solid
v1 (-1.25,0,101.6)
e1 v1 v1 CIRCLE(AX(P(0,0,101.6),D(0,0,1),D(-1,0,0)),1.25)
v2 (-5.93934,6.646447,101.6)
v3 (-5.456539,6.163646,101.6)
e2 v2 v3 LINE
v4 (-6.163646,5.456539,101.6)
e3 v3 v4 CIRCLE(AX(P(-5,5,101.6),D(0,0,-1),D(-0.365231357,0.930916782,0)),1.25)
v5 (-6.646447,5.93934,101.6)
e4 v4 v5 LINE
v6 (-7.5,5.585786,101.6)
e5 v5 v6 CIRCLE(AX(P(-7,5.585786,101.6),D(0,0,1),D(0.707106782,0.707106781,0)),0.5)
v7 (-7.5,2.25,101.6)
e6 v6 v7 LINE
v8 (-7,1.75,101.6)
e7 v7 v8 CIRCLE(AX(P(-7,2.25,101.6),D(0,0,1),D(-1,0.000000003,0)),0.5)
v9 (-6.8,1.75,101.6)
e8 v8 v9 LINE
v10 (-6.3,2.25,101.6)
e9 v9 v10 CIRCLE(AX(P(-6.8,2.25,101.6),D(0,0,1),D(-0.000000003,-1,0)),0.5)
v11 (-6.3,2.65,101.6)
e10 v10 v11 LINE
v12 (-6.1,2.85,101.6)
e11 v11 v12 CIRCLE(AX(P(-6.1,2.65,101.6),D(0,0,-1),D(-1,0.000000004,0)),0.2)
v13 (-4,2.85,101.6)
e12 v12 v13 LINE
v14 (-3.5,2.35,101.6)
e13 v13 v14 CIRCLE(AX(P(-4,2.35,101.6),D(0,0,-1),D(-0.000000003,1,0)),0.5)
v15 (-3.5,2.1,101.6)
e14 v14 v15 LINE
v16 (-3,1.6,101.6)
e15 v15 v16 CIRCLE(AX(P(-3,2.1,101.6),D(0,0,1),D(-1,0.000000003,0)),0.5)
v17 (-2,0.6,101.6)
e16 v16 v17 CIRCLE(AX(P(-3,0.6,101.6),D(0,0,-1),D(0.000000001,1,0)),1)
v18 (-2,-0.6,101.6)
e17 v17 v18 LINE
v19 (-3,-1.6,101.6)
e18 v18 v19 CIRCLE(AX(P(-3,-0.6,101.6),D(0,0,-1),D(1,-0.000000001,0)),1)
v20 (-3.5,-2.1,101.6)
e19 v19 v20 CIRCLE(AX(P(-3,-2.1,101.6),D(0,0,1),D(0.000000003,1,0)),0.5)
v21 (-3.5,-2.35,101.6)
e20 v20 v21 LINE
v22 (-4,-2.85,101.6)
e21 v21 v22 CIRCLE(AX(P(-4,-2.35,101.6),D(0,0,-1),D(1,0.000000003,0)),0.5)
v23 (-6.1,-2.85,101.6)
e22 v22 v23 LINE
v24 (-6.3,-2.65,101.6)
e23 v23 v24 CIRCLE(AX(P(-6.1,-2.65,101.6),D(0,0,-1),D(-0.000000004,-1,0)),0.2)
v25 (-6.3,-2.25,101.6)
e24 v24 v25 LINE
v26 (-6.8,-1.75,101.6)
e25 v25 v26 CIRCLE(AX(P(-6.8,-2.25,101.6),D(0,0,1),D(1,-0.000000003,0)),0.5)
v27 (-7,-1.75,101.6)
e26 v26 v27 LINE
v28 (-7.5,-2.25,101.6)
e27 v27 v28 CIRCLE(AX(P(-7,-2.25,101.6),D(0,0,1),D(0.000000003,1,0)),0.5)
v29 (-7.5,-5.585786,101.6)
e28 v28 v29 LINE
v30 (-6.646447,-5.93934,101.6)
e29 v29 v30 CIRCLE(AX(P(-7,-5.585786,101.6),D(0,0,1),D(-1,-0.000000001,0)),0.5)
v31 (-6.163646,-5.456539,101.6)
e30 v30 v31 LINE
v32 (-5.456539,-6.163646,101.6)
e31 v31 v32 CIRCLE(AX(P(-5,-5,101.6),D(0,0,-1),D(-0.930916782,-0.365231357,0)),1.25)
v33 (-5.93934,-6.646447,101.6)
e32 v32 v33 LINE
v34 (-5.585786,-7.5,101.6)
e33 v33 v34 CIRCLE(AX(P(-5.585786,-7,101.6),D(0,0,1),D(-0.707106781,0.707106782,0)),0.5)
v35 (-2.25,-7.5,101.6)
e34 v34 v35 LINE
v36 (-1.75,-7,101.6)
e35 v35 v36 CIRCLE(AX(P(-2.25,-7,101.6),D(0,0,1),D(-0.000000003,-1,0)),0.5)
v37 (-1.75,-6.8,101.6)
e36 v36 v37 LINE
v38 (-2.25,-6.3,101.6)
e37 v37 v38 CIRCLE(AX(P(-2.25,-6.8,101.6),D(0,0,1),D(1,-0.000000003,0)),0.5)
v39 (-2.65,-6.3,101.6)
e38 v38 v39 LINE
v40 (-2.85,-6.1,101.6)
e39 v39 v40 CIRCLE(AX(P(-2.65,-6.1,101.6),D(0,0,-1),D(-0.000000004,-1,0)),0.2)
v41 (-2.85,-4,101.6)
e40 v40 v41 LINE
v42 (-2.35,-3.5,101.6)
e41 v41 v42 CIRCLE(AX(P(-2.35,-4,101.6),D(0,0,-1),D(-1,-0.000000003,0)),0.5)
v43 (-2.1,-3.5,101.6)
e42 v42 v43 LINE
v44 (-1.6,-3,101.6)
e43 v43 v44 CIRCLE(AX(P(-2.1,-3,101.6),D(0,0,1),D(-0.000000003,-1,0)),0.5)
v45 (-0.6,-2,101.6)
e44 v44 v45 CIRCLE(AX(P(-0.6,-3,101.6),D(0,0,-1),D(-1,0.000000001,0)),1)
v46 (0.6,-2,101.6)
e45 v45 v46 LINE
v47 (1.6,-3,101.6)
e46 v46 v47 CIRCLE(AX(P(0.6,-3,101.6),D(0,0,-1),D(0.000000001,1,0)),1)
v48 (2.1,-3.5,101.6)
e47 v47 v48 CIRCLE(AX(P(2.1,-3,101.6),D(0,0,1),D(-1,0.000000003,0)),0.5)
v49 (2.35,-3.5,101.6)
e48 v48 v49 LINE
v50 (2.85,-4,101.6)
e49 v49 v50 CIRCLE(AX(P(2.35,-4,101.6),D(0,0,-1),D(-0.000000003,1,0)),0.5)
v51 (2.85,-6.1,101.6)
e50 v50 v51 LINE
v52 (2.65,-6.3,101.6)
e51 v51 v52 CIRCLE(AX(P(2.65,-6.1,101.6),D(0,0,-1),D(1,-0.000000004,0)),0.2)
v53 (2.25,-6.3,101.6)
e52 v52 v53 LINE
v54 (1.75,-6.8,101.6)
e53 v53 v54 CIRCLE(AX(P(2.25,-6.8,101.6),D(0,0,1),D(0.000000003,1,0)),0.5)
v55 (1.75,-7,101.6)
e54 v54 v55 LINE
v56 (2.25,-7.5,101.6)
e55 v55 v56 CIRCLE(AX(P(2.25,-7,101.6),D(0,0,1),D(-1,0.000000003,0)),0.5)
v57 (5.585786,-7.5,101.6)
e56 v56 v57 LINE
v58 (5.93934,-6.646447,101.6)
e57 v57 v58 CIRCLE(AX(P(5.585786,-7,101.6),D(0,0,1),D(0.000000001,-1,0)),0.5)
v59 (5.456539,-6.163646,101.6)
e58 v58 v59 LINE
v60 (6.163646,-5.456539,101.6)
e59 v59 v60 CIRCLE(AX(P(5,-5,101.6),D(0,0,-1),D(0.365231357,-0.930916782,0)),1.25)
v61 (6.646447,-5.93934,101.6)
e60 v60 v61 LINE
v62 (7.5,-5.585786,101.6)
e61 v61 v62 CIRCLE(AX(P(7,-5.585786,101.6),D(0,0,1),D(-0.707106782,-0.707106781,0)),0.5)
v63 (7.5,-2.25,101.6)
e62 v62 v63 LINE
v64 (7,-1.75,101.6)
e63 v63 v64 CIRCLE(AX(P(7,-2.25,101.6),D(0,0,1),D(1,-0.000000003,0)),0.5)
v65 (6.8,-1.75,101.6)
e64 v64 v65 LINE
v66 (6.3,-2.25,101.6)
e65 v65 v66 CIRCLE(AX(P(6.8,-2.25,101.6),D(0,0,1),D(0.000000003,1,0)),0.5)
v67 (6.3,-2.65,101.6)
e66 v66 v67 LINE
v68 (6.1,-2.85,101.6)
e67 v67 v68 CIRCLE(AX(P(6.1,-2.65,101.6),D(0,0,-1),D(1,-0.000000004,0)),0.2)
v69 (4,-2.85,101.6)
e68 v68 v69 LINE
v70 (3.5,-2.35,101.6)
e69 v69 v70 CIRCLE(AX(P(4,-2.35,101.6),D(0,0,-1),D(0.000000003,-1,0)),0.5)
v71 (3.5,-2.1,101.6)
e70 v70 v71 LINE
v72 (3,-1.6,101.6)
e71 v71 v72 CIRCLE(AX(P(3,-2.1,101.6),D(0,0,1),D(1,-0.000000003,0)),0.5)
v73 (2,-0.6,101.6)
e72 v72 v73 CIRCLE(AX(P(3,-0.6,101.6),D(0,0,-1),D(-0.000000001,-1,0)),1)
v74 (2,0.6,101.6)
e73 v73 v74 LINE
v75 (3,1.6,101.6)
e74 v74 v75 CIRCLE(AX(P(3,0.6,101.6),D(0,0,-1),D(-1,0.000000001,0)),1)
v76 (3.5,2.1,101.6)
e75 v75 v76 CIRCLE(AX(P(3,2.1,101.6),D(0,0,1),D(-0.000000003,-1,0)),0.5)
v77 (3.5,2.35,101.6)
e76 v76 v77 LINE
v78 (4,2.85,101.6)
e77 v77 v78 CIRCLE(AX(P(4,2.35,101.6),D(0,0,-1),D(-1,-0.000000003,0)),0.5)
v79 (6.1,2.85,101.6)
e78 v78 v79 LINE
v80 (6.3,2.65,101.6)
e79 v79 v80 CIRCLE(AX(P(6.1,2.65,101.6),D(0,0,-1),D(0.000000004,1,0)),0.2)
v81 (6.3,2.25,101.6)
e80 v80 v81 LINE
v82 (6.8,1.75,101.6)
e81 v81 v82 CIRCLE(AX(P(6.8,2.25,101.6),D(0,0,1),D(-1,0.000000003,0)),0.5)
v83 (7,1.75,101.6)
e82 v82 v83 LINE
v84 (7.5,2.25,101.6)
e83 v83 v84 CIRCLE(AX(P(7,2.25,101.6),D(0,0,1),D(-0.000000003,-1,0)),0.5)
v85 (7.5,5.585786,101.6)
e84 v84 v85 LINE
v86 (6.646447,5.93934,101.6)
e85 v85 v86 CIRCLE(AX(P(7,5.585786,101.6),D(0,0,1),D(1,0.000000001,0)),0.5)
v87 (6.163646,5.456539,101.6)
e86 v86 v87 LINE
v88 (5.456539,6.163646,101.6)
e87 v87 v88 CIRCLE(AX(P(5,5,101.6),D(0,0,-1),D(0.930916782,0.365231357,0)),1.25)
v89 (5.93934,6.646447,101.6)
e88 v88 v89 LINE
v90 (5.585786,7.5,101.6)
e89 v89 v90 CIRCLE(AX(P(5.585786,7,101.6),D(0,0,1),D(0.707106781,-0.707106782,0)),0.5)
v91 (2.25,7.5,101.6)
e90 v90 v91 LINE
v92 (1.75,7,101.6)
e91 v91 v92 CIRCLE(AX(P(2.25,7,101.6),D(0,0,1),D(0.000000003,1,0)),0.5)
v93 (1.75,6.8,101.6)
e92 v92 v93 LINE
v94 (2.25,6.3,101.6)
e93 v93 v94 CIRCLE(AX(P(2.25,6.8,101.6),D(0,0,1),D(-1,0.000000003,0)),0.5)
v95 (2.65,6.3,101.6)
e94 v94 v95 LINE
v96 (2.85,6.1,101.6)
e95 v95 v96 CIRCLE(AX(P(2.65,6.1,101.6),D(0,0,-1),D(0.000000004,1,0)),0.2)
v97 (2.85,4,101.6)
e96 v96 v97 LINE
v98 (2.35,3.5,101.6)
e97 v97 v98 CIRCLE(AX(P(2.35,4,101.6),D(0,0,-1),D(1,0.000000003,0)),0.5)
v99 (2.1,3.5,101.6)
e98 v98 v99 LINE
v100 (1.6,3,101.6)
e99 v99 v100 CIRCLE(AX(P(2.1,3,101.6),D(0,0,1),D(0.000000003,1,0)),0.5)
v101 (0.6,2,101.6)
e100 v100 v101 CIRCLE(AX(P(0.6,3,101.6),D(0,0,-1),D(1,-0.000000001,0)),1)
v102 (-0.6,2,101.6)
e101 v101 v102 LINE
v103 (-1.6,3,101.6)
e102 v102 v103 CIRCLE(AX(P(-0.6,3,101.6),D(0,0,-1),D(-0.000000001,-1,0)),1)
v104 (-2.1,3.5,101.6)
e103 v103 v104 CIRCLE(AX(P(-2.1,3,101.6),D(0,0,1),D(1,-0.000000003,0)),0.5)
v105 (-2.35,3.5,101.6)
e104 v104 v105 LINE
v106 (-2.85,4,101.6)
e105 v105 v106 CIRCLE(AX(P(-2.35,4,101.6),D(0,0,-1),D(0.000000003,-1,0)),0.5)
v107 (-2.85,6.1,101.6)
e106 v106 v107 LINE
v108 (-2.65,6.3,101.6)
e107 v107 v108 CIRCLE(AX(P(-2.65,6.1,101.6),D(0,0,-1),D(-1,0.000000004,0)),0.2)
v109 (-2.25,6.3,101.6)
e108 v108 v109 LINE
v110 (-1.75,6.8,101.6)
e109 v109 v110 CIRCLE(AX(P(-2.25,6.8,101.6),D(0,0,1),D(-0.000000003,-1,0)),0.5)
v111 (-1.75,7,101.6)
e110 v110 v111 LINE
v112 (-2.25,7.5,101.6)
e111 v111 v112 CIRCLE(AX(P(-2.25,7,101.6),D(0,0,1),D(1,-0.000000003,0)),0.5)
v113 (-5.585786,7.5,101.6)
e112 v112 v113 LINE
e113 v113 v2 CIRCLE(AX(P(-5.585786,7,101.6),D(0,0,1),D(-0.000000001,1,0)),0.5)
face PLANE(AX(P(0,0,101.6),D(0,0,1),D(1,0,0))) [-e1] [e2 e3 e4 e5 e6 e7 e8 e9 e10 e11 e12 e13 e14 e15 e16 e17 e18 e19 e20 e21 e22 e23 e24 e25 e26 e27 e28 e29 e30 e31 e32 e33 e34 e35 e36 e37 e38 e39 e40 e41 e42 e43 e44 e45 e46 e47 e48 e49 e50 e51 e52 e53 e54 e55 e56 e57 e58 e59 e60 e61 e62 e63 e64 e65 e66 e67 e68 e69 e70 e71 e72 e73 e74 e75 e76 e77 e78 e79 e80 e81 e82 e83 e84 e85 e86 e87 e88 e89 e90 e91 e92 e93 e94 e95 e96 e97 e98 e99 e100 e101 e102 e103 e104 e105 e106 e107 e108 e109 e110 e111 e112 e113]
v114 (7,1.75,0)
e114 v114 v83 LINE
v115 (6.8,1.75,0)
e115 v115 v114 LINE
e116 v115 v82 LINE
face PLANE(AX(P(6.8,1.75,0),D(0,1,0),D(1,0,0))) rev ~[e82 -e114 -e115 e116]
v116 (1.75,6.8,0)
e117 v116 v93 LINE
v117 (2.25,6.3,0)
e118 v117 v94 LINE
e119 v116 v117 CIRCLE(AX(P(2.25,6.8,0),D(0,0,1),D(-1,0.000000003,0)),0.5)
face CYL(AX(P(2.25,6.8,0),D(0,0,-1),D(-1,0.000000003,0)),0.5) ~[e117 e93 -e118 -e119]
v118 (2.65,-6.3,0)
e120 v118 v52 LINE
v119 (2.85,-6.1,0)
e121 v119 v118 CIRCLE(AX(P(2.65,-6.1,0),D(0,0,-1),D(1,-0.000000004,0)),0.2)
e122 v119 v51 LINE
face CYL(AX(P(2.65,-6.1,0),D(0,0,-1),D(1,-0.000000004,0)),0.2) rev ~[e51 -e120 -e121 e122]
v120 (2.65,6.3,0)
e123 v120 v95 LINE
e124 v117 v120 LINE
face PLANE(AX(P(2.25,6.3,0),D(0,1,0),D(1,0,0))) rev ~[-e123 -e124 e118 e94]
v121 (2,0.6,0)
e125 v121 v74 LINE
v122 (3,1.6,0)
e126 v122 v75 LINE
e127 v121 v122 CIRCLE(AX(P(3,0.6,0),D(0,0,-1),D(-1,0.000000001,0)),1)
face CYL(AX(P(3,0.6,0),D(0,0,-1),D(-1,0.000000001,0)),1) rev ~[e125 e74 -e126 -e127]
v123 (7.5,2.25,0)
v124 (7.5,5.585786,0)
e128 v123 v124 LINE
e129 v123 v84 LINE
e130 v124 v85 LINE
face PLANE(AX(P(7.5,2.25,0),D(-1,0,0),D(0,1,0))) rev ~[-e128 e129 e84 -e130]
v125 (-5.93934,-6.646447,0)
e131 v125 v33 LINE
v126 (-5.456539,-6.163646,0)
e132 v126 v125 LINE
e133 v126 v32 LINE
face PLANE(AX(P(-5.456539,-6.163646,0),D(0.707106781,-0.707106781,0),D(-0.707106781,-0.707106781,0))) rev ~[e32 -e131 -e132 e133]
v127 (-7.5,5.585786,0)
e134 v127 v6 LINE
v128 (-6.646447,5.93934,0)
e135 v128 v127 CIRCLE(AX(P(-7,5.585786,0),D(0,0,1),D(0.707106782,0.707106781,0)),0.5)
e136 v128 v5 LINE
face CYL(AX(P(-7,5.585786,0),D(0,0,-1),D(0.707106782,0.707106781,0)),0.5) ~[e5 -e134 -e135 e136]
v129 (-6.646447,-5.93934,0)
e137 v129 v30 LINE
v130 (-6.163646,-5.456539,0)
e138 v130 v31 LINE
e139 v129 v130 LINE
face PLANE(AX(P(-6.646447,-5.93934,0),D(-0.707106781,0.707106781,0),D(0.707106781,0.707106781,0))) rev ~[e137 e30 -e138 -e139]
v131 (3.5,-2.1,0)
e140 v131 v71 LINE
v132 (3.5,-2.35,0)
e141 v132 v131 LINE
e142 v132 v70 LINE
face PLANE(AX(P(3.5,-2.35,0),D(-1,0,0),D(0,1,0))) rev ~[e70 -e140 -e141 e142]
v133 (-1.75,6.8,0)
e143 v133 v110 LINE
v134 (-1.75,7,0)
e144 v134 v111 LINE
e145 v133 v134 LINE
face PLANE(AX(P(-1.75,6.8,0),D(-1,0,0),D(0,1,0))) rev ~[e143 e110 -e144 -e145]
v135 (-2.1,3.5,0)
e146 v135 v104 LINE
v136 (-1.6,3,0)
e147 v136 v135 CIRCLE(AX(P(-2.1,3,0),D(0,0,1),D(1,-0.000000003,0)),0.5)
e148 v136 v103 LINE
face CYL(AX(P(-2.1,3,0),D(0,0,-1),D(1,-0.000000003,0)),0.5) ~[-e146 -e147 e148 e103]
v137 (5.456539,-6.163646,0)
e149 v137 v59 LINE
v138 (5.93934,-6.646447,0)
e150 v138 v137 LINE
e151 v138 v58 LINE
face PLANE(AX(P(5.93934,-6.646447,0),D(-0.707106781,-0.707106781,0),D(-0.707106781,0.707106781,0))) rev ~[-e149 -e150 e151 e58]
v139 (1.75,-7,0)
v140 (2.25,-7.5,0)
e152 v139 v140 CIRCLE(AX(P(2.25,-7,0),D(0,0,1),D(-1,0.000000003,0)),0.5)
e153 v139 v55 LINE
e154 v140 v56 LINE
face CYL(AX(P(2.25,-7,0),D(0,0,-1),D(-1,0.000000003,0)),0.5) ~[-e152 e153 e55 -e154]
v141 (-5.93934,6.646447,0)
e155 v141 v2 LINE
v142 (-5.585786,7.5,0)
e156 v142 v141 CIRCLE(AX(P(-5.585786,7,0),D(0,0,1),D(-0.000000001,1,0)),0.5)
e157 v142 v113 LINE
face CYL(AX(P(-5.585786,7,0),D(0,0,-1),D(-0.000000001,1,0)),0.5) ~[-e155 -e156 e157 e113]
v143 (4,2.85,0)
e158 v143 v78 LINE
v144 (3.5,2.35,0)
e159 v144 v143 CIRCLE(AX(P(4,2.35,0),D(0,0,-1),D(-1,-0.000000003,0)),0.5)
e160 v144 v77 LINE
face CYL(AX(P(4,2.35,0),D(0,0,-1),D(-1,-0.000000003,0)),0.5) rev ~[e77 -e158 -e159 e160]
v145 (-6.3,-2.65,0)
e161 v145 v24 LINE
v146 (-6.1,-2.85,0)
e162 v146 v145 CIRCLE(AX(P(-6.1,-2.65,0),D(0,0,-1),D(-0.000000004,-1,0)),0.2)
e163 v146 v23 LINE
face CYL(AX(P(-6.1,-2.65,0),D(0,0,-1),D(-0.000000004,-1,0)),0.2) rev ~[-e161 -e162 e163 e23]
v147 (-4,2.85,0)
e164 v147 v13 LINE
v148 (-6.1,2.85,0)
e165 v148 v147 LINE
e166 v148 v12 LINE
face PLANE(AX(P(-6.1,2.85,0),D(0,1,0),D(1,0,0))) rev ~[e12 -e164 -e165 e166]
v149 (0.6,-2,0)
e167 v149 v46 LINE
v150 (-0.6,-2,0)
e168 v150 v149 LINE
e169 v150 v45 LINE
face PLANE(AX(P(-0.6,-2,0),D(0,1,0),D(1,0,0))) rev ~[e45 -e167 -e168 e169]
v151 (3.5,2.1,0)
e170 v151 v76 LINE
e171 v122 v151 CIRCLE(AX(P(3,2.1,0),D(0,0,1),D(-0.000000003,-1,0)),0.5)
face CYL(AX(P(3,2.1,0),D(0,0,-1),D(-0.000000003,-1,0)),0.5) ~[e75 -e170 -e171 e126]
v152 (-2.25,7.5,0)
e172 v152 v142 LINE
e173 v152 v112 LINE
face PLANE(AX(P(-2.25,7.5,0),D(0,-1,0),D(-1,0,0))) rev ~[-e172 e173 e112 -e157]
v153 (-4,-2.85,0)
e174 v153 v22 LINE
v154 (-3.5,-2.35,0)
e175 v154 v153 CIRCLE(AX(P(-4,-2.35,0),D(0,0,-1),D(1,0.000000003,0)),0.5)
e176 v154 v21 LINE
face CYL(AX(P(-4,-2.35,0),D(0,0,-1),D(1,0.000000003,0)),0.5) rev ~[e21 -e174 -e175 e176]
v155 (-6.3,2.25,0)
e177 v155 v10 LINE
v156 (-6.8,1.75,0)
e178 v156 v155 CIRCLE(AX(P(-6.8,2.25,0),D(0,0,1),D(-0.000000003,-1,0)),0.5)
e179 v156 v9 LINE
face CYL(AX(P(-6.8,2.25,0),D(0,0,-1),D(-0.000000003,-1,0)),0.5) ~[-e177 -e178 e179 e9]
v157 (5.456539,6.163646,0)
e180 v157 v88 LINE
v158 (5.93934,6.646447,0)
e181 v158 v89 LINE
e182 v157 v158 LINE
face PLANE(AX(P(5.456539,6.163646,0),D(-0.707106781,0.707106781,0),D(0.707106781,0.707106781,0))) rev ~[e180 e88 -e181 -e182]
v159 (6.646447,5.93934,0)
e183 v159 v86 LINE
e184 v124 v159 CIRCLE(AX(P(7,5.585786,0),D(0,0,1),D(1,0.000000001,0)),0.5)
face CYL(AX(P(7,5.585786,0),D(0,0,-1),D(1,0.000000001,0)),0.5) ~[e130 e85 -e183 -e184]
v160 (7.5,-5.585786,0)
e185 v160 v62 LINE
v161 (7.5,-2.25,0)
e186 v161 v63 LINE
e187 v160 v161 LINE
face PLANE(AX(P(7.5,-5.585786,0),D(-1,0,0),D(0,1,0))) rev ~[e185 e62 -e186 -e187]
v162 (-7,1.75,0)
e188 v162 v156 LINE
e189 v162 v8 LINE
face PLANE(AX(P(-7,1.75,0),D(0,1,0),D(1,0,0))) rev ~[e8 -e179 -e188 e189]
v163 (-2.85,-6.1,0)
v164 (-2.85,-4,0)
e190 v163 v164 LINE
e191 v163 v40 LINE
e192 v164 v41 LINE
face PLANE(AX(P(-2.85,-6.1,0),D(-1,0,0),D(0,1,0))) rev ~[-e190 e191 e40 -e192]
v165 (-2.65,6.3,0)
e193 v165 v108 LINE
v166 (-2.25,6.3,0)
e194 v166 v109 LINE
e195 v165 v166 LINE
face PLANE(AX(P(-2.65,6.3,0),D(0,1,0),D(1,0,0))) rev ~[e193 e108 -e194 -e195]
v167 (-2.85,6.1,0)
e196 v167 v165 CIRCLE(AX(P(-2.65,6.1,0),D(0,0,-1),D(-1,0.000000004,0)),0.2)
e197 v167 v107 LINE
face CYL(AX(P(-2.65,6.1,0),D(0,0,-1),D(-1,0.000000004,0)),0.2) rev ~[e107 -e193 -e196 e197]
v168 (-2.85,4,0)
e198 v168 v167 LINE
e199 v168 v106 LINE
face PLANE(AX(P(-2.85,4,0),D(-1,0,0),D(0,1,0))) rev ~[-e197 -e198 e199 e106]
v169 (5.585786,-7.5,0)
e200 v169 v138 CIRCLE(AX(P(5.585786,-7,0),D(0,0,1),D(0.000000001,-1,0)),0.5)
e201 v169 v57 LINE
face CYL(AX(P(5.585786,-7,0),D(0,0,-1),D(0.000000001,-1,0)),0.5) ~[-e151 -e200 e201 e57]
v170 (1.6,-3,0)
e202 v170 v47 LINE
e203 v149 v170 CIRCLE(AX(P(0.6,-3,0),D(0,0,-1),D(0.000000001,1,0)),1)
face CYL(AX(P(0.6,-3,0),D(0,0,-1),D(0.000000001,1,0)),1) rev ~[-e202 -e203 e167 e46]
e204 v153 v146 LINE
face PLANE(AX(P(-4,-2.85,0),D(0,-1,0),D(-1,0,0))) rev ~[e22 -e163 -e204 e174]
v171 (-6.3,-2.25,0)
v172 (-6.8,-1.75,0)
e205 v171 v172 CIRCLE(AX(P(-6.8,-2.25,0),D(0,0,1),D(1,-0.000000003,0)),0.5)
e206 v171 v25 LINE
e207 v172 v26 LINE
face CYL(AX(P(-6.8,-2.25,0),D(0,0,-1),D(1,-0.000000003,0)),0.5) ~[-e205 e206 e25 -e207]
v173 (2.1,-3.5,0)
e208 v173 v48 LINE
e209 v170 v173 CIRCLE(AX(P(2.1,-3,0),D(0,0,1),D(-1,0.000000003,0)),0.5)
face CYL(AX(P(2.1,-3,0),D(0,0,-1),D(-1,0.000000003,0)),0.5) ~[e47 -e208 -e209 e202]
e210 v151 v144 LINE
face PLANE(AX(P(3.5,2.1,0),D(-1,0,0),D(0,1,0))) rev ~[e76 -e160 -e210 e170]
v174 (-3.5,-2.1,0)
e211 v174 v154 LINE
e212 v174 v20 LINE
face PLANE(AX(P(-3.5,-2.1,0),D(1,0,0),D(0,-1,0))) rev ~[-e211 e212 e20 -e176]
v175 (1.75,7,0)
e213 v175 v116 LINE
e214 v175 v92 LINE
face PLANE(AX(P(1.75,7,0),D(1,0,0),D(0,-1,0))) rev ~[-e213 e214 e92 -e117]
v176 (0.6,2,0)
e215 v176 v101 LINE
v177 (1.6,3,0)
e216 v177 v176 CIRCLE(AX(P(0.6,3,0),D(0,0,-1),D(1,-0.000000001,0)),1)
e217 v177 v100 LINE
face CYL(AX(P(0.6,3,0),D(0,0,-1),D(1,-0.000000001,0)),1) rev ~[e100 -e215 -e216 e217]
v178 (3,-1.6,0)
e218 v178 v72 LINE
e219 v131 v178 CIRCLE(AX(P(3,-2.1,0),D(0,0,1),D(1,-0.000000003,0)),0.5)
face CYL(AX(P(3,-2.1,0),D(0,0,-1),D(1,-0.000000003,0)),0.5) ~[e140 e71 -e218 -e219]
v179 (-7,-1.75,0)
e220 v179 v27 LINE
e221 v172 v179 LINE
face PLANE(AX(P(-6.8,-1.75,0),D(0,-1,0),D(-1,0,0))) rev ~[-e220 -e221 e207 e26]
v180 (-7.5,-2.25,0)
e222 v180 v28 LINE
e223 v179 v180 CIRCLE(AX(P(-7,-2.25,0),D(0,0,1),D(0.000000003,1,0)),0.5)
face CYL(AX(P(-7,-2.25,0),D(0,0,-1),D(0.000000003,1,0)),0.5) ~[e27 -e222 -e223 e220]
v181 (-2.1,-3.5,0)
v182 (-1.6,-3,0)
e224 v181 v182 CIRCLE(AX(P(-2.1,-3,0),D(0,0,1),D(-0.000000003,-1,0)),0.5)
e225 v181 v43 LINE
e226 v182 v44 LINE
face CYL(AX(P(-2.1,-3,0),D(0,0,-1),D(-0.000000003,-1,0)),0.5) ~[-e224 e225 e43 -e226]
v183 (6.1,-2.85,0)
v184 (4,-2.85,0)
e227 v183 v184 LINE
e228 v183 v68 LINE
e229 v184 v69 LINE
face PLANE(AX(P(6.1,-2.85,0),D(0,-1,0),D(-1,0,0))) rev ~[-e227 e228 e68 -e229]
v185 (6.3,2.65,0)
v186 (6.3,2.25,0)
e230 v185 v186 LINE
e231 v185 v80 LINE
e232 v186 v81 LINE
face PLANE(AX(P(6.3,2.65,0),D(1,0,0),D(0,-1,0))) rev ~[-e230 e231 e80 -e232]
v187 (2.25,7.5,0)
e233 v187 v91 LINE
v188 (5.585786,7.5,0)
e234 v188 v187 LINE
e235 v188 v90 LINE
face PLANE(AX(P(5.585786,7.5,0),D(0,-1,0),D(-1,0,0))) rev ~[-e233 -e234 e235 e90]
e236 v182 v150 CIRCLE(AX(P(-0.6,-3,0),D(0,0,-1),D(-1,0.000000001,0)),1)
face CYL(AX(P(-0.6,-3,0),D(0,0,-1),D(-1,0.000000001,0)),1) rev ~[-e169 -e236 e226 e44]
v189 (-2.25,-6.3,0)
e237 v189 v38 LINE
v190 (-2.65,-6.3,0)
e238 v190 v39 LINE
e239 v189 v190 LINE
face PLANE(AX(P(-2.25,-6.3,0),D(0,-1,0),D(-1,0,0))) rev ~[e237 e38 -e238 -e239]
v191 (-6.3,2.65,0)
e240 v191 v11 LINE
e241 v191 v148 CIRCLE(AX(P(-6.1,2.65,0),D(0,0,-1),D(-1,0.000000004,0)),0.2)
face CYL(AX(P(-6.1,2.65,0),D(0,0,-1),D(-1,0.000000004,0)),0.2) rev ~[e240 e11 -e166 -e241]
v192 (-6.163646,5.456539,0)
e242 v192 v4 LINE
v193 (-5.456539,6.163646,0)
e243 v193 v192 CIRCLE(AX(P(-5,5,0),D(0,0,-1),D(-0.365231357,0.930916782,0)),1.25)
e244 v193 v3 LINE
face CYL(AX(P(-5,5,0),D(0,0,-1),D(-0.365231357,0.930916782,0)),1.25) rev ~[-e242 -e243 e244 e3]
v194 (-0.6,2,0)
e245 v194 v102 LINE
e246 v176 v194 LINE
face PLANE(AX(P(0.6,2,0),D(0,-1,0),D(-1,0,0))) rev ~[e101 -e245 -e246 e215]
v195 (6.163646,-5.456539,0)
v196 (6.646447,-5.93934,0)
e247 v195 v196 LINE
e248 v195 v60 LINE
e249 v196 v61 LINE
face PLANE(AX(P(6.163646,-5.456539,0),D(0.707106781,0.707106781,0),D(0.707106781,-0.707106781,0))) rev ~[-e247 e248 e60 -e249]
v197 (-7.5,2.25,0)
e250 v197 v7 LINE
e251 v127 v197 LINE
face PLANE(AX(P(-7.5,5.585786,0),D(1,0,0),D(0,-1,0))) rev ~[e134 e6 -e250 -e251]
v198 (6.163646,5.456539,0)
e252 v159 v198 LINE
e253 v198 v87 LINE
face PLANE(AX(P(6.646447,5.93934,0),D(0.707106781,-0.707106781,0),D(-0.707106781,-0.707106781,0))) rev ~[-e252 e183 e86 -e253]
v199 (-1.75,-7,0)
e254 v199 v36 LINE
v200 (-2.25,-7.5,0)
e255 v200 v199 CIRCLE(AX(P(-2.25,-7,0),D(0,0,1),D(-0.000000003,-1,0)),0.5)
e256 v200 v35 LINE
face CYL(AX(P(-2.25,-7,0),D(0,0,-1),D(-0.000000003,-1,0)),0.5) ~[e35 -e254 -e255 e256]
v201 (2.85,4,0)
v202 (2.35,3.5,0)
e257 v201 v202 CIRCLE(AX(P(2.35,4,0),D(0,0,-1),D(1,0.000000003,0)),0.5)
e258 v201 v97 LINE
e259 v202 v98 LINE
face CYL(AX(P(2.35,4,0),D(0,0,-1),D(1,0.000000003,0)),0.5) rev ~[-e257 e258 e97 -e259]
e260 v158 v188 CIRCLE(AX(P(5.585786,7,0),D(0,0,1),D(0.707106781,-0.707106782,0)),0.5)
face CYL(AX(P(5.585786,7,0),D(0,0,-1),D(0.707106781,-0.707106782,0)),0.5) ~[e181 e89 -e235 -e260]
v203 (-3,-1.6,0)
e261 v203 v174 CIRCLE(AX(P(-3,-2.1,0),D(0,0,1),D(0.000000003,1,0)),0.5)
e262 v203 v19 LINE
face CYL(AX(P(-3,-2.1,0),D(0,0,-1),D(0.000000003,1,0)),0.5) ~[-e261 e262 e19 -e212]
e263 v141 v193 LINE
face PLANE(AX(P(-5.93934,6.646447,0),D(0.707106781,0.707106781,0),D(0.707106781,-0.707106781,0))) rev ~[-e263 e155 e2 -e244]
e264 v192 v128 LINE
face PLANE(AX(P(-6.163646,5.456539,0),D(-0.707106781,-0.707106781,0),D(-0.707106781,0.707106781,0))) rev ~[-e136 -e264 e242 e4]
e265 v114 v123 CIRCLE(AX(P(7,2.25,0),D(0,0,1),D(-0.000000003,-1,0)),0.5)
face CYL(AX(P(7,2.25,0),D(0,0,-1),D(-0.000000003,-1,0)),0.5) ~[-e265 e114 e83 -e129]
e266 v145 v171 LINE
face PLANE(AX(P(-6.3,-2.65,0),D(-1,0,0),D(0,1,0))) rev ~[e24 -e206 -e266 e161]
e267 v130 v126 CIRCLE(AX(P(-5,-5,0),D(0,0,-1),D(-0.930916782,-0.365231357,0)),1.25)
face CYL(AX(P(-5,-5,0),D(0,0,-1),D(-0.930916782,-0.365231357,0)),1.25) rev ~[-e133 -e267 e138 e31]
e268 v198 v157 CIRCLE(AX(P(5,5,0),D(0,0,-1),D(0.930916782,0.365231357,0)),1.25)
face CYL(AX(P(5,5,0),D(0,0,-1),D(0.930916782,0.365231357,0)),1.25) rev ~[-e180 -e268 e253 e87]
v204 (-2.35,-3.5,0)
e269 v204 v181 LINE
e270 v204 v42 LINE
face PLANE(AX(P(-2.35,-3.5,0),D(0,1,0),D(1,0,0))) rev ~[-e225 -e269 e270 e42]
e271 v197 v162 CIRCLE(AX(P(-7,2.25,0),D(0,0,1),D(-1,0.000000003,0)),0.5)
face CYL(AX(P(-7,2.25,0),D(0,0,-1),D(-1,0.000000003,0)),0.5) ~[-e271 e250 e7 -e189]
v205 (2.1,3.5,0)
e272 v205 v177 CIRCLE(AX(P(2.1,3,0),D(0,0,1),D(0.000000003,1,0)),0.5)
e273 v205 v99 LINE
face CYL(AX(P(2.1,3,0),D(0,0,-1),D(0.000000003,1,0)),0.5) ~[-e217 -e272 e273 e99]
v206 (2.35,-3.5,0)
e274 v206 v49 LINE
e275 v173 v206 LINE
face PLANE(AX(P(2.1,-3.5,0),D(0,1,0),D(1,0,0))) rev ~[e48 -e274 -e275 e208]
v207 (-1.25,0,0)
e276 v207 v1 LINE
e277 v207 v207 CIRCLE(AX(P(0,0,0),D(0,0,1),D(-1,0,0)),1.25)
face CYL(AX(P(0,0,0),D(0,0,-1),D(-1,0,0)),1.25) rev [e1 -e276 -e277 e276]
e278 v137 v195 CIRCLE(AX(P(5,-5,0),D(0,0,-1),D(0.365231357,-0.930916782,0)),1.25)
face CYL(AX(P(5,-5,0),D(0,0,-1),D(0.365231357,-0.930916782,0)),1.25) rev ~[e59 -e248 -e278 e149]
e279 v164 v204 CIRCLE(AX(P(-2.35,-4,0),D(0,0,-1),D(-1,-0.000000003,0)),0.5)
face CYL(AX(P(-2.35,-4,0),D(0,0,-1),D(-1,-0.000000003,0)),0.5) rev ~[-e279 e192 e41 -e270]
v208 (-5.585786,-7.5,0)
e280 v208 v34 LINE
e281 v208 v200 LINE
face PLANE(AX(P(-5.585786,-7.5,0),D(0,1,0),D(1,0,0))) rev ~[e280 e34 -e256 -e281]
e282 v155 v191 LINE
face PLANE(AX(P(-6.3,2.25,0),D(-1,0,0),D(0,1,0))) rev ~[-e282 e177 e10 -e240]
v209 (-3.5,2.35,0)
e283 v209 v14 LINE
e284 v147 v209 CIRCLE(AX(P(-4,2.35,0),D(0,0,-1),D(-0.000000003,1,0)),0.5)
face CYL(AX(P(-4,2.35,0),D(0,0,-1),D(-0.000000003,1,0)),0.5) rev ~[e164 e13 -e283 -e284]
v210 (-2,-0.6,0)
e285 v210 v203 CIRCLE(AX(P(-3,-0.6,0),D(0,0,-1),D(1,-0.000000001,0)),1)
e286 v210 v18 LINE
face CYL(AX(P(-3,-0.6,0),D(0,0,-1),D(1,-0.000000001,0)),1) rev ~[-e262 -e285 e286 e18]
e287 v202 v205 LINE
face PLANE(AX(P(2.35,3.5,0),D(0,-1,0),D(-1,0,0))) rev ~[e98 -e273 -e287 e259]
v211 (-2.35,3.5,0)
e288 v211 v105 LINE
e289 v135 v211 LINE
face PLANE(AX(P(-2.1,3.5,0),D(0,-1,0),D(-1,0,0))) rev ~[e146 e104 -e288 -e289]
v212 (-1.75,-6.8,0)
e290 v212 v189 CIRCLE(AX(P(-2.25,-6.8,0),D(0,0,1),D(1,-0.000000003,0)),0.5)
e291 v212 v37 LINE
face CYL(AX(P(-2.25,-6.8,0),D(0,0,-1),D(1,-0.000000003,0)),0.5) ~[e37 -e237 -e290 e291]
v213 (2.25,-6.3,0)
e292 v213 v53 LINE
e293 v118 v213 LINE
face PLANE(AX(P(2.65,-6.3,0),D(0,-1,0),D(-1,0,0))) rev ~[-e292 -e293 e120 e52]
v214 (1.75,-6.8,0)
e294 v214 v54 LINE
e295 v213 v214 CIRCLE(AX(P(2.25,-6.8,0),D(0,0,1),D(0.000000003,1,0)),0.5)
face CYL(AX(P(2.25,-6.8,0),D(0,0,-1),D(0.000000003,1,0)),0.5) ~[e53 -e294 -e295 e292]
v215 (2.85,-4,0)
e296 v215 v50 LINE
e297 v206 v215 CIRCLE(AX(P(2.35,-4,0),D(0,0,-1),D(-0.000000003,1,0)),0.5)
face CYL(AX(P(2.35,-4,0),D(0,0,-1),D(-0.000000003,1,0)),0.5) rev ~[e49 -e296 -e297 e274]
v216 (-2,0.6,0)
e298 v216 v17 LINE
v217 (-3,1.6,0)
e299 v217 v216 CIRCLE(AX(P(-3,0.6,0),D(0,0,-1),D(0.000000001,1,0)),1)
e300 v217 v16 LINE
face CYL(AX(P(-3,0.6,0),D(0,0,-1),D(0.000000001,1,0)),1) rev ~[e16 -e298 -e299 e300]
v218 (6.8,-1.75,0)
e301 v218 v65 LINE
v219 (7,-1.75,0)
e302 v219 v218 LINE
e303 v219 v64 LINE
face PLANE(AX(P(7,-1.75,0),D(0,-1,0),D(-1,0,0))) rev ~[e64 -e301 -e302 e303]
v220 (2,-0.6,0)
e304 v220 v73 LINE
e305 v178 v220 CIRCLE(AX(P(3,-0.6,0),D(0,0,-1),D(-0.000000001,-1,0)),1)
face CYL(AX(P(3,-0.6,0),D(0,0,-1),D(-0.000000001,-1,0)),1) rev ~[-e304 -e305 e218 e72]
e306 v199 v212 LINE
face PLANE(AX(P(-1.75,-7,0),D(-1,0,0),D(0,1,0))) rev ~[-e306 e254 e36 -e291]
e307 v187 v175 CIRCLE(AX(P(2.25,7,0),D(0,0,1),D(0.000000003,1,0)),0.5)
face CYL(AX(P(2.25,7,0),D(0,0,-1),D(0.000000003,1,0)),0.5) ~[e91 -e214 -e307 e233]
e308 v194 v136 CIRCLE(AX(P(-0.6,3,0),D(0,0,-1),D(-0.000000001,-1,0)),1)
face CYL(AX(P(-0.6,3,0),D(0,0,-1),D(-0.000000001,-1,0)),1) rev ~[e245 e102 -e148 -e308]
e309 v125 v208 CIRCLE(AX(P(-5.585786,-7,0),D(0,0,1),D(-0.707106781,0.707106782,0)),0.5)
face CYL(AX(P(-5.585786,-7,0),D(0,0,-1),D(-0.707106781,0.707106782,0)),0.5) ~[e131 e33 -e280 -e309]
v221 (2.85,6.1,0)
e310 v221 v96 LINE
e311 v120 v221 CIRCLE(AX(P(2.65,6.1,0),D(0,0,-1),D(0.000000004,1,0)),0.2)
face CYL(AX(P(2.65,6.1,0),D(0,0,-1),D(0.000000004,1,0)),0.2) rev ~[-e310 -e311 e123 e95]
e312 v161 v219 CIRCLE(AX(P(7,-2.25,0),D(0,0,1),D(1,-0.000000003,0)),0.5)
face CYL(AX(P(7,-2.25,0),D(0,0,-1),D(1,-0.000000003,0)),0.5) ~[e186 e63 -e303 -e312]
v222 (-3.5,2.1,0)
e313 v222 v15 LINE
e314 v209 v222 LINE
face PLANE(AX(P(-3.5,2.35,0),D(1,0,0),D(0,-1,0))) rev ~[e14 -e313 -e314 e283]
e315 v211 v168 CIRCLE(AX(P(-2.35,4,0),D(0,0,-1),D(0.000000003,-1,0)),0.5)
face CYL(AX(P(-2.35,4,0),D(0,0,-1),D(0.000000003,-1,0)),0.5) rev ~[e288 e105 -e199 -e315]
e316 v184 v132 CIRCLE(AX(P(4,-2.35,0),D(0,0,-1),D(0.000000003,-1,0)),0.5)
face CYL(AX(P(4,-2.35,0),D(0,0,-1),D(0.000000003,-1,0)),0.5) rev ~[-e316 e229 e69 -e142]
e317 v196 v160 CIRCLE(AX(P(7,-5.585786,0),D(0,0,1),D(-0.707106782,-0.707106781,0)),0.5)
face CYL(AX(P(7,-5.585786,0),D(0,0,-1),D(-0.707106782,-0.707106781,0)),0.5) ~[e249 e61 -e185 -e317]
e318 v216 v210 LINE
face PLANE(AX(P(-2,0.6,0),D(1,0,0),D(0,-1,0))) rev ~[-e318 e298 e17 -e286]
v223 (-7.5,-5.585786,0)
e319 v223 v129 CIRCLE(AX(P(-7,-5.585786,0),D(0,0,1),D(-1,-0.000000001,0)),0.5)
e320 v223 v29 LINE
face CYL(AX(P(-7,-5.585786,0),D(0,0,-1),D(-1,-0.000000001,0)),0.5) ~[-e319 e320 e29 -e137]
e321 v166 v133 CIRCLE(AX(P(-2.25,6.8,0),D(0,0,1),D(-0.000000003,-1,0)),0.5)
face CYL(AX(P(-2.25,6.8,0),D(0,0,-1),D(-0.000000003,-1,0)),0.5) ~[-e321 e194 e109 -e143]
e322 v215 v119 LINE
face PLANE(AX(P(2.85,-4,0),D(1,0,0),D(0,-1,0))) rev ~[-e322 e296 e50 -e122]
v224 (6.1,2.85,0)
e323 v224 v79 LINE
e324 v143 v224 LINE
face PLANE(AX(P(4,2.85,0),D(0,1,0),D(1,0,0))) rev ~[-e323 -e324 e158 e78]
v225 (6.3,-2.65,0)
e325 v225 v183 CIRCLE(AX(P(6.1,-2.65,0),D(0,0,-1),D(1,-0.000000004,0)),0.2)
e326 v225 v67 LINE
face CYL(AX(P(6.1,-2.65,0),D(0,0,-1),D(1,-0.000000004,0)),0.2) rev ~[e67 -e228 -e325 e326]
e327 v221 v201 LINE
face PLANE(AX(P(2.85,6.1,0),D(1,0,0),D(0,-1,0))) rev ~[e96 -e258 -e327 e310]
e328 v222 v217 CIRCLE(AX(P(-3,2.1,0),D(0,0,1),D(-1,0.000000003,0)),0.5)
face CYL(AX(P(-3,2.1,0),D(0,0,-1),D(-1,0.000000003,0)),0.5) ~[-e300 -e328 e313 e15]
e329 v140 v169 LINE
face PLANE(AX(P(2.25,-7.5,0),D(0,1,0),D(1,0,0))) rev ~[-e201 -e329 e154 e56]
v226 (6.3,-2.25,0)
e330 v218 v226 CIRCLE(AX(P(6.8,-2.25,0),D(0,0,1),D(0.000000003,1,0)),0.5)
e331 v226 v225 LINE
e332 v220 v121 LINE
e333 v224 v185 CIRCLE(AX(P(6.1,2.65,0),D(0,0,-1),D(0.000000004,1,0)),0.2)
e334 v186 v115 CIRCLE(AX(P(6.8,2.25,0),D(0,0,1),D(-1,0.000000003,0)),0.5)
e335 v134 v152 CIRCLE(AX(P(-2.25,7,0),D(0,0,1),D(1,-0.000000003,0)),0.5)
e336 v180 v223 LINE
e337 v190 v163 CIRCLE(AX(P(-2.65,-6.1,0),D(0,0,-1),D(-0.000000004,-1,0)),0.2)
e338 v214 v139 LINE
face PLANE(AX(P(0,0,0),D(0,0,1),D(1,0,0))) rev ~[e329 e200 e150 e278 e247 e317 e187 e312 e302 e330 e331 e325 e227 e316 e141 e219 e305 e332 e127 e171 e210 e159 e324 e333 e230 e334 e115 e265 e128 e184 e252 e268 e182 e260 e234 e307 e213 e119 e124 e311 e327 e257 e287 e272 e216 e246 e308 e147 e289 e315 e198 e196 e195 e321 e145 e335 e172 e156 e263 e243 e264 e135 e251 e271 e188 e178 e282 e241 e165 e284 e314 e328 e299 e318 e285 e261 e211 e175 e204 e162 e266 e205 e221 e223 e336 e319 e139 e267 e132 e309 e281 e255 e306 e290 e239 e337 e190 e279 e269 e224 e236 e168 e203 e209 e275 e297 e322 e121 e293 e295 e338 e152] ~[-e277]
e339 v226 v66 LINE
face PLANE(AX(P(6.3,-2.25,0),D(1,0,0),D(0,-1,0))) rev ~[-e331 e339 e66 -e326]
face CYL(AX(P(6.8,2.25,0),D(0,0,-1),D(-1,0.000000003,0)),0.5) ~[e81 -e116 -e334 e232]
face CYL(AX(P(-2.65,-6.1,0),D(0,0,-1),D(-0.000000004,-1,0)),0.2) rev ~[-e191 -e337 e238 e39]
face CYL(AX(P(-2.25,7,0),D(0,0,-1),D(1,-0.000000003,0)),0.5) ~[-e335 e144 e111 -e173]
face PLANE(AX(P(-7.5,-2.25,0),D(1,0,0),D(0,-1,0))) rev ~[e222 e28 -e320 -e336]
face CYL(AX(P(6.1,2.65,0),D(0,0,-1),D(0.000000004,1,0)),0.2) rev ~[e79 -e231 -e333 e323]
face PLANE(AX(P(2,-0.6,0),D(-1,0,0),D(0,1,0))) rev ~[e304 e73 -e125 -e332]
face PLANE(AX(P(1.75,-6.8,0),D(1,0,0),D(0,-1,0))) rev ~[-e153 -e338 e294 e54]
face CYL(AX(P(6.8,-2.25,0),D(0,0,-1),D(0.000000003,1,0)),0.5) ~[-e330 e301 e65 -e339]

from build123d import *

# Parameters (mm, degrees)
SKETCH1_R           = 1.25
BOSS_EXTRUDE1_DEPTH = 101.6


with BuildPart() as part:
    # Sketch1 → Boss-Extrude1 (new body)
    with BuildSketch(Plane.XY):
        with BuildLine():
            Line((6.646446609, 5.939339828), (6.163645978, 5.456539197))
            ThreePointArc((6.163645978, 5.456539197), (4.116116524, 4.116116524), (5.456539197, 6.163645978))
            Line((5.456539197, 6.163645978), (5.939339828, 6.646446609))
            ThreePointArc((5.939339828, 6.646446609), (6.047726204, 7.191341716), (5.585786438, 7.5))
            Line((5.585786438, 7.5), (2.25, 7.5))
            ThreePointArc((2.25, 7.5), (1.896446609, 7.353553391), (1.75, 7))
            Line((1.75, 7), (1.75, 6.8))
            ThreePointArc((1.75, 6.8), (1.896446609, 6.446446609), (2.25, 6.3))
            Line((2.25, 6.3), (2.65, 6.3))
            ThreePointArc((2.65, 6.3), (2.791421356, 6.241421356), (2.85, 6.1))
            Line((2.85, 6.1), (2.85, 4))
            ThreePointArc((2.85, 4), (2.703553391, 3.646446609), (2.35, 3.5))
            Line((2.35, 3.5), (2.1, 3.5))
            ThreePointArc((2.1, 3.5), (1.746446609, 3.353553391), (1.6, 3))
            ThreePointArc((1.6, 3), (1.307106781, 2.292893219), (0.6, 2))
            Line((0.6, 2), (-0.6, 2))
            ThreePointArc((-0.6, 2), (-1.307106781, 2.292893219), (-1.6, 3))
            ThreePointArc((-1.6, 3), (-1.746446609, 3.353553391), (-2.1, 3.5))
            Line((-2.1, 3.5), (-2.35, 3.5))
            ThreePointArc((-2.35, 3.5), (-2.703553391, 3.646446609), (-2.85, 4))
            Line((-2.85, 4), (-2.85, 6.1))
            ThreePointArc((-2.85, 6.1), (-2.791421356, 6.241421356), (-2.65, 6.3))
            Line((-2.65, 6.3), (-2.25, 6.3))
            ThreePointArc((-2.25, 6.3), (-1.896446609, 6.446446609), (-1.75, 6.8))
            Line((-1.75, 6.8), (-1.75, 7))
            ThreePointArc((-1.75, 7), (-1.896446609, 7.353553391), (-2.25, 7.5))
            Line((-2.25, 7.5), (-5.585786438, 7.5))
            ThreePointArc((-5.585786438, 7.5), (-6.047726204, 7.191341716), (-5.939339828, 6.646446609))
            Line((-5.939339828, 6.646446609), (-5.456539197, 6.163645978))
            ThreePointArc((-5.456539197, 6.163645978), (-4.116116524, 4.116116524), (-6.163645978, 5.456539197))
            Line((-6.163645978, 5.456539197), (-6.646446609, 5.939339828))
            ThreePointArc((-6.646446609, 5.939339828), (-7.191341716, 6.047726204), (-7.5, 5.585786438))
            Line((-7.5, 5.585786438), (-7.5, 2.25))
            ThreePointArc((-7.5, 2.25), (-7.353553391, 1.896446609), (-7, 1.75))
            Line((-7, 1.75), (-6.8, 1.75))
            ThreePointArc((-6.8, 1.75), (-6.446446609, 1.896446609), (-6.3, 2.25))
            Line((-6.3, 2.25), (-6.3, 2.65))
            ThreePointArc((-6.3, 2.65), (-6.241421356, 2.791421356), (-6.1, 2.85))
            Line((-6.1, 2.85), (-4, 2.85))
            ThreePointArc((-4, 2.85), (-3.646446609, 2.703553391), (-3.5, 2.35))
            Line((-3.5, 2.35), (-3.5, 2.1))
            ThreePointArc((-3.5, 2.1), (-3.353553391, 1.746446609), (-3, 1.6))
            ThreePointArc((-3, 1.6), (-2.292893219, 1.307106781), (-2, 0.6))
            Line((-2, 0.6), (-2, -0.6))
            ThreePointArc((-2, -0.6), (-2.292893219, -1.307106781), (-3, -1.6))
            ThreePointArc((-3, -1.6), (-3.353553391, -1.746446609), (-3.5, -2.1))
            Line((-3.5, -2.1), (-3.5, -2.35))
            ThreePointArc((-3.5, -2.35), (-3.646446609, -2.703553391), (-4, -2.85))
            Line((-4, -2.85), (-6.1, -2.85))
            ThreePointArc((-6.1, -2.85), (-6.241421356, -2.791421356), (-6.3, -2.65))
            Line((-6.3, -2.65), (-6.3, -2.25))
            ThreePointArc((-6.3, -2.25), (-6.446446609, -1.896446609), (-6.8, -1.75))
            Line((-6.8, -1.75), (-7, -1.75))
            ThreePointArc((-7, -1.75), (-7.353553391, -1.896446609), (-7.5, -2.25))
            Line((-7.5, -2.25), (-7.5, -5.585786438))
            ThreePointArc((-7.5, -5.585786438), (-7.191341716, -6.047726204), (-6.646446609, -5.939339828))
            Line((-6.646446609, -5.939339828), (-6.163645978, -5.456539197))
            ThreePointArc((-6.163645978, -5.456539197), (-4.116116524, -4.116116524), (-5.456539197, -6.163645978))
            Line((-5.456539197, -6.163645978), (-5.939339828, -6.646446609))
            ThreePointArc((-5.939339828, -6.646446609), (-6.047726204, -7.191341716), (-5.585786438, -7.5))
            Line((-5.585786438, -7.5), (-2.25, -7.5))
            ThreePointArc((-2.25, -7.5), (-1.896446609, -7.353553391), (-1.75, -7))
            Line((-1.75, -7), (-1.75, -6.8))
            ThreePointArc((-1.75, -6.8), (-1.896446609, -6.446446609), (-2.25, -6.3))
            Line((-2.25, -6.3), (-2.65, -6.3))
            ThreePointArc((-2.65, -6.3), (-2.791421356, -6.241421356), (-2.85, -6.1))
            Line((-2.85, -6.1), (-2.85, -4))
            ThreePointArc((-2.85, -4), (-2.703553391, -3.646446609), (-2.35, -3.5))
            Line((-2.35, -3.5), (-2.1, -3.5))
            ThreePointArc((-2.1, -3.5), (-1.746446609, -3.353553391), (-1.6, -3))
            ThreePointArc((-1.6, -3), (-1.307106781, -2.292893219), (-0.6, -2))
            Line((-0.6, -2), (0.6, -2))
            ThreePointArc((0.6, -2), (1.307106781, -2.292893219), (1.6, -3))
            ThreePointArc((1.6, -3), (1.746446609, -3.353553391), (2.1, -3.5))
            Line((2.1, -3.5), (2.35, -3.5))
            ThreePointArc((2.35, -3.5), (2.703553391, -3.646446609), (2.85, -4))
            Line((2.85, -4), (2.85, -6.1))
            ThreePointArc((2.85, -6.1), (2.791421356, -6.241421356), (2.65, -6.3))
            Line((2.65, -6.3), (2.25, -6.3))
            ThreePointArc((2.25, -6.3), (1.896446609, -6.446446609), (1.75, -6.8))
            Line((1.75, -6.8), (1.75, -7))
            ThreePointArc((1.75, -7), (1.896446609, -7.353553391), (2.25, -7.5))
            Line((2.25, -7.5), (5.585786438, -7.5))
            ThreePointArc((5.585786438, -7.5), (6.047726204, -7.191341716), (5.939339828, -6.646446609))
            Line((5.939339828, -6.646446609), (5.456539197, -6.163645978))
            ThreePointArc((5.456539197, -6.163645978), (4.116116524, -4.116116524), (6.163645978, -5.456539197))
            Line((6.163645978, -5.456539197), (6.646446609, -5.939339828))
            ThreePointArc((6.646446609, -5.939339828), (7.191341716, -6.047726204), (7.5, -5.585786438))
            Line((7.5, -5.585786438), (7.5, -2.25))
            ThreePointArc((7.5, -2.25), (7.353553391, -1.896446609), (7, -1.75))
            Line((7, -1.75), (6.8, -1.75))
            ThreePointArc((6.8, -1.75), (6.446446609, -1.896446609), (6.3, -2.25))
            Line((6.3, -2.25), (6.3, -2.65))
            ThreePointArc((6.3, -2.65), (6.241421356, -2.791421356), (6.1, -2.85))
            Line((6.1, -2.85), (4, -2.85))
            ThreePointArc((4, -2.85), (3.646446609, -2.703553391), (3.5, -2.35))
            Line((3.5, -2.35), (3.5, -2.1))
            ThreePointArc((3.5, -2.1), (3.353553391, -1.746446609), (3, -1.6))
            ThreePointArc((3, -1.6), (2.292893219, -1.307106781), (2, -0.6))
            Line((2, -0.6), (2, 0.6))
            ThreePointArc((2, 0.6), (2.292893219, 1.307106781), (3, 1.6))
            ThreePointArc((3, 1.6), (3.353553391, 1.746446609), (3.5, 2.1))
            Line((3.5, 2.1), (3.5, 2.35))
            ThreePointArc((3.5, 2.35), (3.646446609, 2.703553391), (4, 2.85))
            Line((4, 2.85), (6.1, 2.85))
            ThreePointArc((6.1, 2.85), (6.241421356, 2.791421356), (6.3, 2.65))
            Line((6.3, 2.65), (6.3, 2.25))
            ThreePointArc((6.3, 2.25), (6.446446609, 1.896446609), (6.8, 1.75))
            Line((6.8, 1.75), (7, 1.75))
            ThreePointArc((7, 1.75), (7.353553391, 1.896446609), (7.5, 2.25))
            Line((7.5, 2.25), (7.5, 5.585786438))
            ThreePointArc((7.5, 5.585786438), (7.191341716, 6.047726204), (6.646446609, 5.939339828))
        make_face()
        with Locations(Location((0, 0, 0), (0, 0, 180))):
            Circle(SKETCH1_R, mode=Mode.SUBTRACT)
    extrude(amount=BOSS_EXTRUDE1_DEPTH)


solid = part.part
